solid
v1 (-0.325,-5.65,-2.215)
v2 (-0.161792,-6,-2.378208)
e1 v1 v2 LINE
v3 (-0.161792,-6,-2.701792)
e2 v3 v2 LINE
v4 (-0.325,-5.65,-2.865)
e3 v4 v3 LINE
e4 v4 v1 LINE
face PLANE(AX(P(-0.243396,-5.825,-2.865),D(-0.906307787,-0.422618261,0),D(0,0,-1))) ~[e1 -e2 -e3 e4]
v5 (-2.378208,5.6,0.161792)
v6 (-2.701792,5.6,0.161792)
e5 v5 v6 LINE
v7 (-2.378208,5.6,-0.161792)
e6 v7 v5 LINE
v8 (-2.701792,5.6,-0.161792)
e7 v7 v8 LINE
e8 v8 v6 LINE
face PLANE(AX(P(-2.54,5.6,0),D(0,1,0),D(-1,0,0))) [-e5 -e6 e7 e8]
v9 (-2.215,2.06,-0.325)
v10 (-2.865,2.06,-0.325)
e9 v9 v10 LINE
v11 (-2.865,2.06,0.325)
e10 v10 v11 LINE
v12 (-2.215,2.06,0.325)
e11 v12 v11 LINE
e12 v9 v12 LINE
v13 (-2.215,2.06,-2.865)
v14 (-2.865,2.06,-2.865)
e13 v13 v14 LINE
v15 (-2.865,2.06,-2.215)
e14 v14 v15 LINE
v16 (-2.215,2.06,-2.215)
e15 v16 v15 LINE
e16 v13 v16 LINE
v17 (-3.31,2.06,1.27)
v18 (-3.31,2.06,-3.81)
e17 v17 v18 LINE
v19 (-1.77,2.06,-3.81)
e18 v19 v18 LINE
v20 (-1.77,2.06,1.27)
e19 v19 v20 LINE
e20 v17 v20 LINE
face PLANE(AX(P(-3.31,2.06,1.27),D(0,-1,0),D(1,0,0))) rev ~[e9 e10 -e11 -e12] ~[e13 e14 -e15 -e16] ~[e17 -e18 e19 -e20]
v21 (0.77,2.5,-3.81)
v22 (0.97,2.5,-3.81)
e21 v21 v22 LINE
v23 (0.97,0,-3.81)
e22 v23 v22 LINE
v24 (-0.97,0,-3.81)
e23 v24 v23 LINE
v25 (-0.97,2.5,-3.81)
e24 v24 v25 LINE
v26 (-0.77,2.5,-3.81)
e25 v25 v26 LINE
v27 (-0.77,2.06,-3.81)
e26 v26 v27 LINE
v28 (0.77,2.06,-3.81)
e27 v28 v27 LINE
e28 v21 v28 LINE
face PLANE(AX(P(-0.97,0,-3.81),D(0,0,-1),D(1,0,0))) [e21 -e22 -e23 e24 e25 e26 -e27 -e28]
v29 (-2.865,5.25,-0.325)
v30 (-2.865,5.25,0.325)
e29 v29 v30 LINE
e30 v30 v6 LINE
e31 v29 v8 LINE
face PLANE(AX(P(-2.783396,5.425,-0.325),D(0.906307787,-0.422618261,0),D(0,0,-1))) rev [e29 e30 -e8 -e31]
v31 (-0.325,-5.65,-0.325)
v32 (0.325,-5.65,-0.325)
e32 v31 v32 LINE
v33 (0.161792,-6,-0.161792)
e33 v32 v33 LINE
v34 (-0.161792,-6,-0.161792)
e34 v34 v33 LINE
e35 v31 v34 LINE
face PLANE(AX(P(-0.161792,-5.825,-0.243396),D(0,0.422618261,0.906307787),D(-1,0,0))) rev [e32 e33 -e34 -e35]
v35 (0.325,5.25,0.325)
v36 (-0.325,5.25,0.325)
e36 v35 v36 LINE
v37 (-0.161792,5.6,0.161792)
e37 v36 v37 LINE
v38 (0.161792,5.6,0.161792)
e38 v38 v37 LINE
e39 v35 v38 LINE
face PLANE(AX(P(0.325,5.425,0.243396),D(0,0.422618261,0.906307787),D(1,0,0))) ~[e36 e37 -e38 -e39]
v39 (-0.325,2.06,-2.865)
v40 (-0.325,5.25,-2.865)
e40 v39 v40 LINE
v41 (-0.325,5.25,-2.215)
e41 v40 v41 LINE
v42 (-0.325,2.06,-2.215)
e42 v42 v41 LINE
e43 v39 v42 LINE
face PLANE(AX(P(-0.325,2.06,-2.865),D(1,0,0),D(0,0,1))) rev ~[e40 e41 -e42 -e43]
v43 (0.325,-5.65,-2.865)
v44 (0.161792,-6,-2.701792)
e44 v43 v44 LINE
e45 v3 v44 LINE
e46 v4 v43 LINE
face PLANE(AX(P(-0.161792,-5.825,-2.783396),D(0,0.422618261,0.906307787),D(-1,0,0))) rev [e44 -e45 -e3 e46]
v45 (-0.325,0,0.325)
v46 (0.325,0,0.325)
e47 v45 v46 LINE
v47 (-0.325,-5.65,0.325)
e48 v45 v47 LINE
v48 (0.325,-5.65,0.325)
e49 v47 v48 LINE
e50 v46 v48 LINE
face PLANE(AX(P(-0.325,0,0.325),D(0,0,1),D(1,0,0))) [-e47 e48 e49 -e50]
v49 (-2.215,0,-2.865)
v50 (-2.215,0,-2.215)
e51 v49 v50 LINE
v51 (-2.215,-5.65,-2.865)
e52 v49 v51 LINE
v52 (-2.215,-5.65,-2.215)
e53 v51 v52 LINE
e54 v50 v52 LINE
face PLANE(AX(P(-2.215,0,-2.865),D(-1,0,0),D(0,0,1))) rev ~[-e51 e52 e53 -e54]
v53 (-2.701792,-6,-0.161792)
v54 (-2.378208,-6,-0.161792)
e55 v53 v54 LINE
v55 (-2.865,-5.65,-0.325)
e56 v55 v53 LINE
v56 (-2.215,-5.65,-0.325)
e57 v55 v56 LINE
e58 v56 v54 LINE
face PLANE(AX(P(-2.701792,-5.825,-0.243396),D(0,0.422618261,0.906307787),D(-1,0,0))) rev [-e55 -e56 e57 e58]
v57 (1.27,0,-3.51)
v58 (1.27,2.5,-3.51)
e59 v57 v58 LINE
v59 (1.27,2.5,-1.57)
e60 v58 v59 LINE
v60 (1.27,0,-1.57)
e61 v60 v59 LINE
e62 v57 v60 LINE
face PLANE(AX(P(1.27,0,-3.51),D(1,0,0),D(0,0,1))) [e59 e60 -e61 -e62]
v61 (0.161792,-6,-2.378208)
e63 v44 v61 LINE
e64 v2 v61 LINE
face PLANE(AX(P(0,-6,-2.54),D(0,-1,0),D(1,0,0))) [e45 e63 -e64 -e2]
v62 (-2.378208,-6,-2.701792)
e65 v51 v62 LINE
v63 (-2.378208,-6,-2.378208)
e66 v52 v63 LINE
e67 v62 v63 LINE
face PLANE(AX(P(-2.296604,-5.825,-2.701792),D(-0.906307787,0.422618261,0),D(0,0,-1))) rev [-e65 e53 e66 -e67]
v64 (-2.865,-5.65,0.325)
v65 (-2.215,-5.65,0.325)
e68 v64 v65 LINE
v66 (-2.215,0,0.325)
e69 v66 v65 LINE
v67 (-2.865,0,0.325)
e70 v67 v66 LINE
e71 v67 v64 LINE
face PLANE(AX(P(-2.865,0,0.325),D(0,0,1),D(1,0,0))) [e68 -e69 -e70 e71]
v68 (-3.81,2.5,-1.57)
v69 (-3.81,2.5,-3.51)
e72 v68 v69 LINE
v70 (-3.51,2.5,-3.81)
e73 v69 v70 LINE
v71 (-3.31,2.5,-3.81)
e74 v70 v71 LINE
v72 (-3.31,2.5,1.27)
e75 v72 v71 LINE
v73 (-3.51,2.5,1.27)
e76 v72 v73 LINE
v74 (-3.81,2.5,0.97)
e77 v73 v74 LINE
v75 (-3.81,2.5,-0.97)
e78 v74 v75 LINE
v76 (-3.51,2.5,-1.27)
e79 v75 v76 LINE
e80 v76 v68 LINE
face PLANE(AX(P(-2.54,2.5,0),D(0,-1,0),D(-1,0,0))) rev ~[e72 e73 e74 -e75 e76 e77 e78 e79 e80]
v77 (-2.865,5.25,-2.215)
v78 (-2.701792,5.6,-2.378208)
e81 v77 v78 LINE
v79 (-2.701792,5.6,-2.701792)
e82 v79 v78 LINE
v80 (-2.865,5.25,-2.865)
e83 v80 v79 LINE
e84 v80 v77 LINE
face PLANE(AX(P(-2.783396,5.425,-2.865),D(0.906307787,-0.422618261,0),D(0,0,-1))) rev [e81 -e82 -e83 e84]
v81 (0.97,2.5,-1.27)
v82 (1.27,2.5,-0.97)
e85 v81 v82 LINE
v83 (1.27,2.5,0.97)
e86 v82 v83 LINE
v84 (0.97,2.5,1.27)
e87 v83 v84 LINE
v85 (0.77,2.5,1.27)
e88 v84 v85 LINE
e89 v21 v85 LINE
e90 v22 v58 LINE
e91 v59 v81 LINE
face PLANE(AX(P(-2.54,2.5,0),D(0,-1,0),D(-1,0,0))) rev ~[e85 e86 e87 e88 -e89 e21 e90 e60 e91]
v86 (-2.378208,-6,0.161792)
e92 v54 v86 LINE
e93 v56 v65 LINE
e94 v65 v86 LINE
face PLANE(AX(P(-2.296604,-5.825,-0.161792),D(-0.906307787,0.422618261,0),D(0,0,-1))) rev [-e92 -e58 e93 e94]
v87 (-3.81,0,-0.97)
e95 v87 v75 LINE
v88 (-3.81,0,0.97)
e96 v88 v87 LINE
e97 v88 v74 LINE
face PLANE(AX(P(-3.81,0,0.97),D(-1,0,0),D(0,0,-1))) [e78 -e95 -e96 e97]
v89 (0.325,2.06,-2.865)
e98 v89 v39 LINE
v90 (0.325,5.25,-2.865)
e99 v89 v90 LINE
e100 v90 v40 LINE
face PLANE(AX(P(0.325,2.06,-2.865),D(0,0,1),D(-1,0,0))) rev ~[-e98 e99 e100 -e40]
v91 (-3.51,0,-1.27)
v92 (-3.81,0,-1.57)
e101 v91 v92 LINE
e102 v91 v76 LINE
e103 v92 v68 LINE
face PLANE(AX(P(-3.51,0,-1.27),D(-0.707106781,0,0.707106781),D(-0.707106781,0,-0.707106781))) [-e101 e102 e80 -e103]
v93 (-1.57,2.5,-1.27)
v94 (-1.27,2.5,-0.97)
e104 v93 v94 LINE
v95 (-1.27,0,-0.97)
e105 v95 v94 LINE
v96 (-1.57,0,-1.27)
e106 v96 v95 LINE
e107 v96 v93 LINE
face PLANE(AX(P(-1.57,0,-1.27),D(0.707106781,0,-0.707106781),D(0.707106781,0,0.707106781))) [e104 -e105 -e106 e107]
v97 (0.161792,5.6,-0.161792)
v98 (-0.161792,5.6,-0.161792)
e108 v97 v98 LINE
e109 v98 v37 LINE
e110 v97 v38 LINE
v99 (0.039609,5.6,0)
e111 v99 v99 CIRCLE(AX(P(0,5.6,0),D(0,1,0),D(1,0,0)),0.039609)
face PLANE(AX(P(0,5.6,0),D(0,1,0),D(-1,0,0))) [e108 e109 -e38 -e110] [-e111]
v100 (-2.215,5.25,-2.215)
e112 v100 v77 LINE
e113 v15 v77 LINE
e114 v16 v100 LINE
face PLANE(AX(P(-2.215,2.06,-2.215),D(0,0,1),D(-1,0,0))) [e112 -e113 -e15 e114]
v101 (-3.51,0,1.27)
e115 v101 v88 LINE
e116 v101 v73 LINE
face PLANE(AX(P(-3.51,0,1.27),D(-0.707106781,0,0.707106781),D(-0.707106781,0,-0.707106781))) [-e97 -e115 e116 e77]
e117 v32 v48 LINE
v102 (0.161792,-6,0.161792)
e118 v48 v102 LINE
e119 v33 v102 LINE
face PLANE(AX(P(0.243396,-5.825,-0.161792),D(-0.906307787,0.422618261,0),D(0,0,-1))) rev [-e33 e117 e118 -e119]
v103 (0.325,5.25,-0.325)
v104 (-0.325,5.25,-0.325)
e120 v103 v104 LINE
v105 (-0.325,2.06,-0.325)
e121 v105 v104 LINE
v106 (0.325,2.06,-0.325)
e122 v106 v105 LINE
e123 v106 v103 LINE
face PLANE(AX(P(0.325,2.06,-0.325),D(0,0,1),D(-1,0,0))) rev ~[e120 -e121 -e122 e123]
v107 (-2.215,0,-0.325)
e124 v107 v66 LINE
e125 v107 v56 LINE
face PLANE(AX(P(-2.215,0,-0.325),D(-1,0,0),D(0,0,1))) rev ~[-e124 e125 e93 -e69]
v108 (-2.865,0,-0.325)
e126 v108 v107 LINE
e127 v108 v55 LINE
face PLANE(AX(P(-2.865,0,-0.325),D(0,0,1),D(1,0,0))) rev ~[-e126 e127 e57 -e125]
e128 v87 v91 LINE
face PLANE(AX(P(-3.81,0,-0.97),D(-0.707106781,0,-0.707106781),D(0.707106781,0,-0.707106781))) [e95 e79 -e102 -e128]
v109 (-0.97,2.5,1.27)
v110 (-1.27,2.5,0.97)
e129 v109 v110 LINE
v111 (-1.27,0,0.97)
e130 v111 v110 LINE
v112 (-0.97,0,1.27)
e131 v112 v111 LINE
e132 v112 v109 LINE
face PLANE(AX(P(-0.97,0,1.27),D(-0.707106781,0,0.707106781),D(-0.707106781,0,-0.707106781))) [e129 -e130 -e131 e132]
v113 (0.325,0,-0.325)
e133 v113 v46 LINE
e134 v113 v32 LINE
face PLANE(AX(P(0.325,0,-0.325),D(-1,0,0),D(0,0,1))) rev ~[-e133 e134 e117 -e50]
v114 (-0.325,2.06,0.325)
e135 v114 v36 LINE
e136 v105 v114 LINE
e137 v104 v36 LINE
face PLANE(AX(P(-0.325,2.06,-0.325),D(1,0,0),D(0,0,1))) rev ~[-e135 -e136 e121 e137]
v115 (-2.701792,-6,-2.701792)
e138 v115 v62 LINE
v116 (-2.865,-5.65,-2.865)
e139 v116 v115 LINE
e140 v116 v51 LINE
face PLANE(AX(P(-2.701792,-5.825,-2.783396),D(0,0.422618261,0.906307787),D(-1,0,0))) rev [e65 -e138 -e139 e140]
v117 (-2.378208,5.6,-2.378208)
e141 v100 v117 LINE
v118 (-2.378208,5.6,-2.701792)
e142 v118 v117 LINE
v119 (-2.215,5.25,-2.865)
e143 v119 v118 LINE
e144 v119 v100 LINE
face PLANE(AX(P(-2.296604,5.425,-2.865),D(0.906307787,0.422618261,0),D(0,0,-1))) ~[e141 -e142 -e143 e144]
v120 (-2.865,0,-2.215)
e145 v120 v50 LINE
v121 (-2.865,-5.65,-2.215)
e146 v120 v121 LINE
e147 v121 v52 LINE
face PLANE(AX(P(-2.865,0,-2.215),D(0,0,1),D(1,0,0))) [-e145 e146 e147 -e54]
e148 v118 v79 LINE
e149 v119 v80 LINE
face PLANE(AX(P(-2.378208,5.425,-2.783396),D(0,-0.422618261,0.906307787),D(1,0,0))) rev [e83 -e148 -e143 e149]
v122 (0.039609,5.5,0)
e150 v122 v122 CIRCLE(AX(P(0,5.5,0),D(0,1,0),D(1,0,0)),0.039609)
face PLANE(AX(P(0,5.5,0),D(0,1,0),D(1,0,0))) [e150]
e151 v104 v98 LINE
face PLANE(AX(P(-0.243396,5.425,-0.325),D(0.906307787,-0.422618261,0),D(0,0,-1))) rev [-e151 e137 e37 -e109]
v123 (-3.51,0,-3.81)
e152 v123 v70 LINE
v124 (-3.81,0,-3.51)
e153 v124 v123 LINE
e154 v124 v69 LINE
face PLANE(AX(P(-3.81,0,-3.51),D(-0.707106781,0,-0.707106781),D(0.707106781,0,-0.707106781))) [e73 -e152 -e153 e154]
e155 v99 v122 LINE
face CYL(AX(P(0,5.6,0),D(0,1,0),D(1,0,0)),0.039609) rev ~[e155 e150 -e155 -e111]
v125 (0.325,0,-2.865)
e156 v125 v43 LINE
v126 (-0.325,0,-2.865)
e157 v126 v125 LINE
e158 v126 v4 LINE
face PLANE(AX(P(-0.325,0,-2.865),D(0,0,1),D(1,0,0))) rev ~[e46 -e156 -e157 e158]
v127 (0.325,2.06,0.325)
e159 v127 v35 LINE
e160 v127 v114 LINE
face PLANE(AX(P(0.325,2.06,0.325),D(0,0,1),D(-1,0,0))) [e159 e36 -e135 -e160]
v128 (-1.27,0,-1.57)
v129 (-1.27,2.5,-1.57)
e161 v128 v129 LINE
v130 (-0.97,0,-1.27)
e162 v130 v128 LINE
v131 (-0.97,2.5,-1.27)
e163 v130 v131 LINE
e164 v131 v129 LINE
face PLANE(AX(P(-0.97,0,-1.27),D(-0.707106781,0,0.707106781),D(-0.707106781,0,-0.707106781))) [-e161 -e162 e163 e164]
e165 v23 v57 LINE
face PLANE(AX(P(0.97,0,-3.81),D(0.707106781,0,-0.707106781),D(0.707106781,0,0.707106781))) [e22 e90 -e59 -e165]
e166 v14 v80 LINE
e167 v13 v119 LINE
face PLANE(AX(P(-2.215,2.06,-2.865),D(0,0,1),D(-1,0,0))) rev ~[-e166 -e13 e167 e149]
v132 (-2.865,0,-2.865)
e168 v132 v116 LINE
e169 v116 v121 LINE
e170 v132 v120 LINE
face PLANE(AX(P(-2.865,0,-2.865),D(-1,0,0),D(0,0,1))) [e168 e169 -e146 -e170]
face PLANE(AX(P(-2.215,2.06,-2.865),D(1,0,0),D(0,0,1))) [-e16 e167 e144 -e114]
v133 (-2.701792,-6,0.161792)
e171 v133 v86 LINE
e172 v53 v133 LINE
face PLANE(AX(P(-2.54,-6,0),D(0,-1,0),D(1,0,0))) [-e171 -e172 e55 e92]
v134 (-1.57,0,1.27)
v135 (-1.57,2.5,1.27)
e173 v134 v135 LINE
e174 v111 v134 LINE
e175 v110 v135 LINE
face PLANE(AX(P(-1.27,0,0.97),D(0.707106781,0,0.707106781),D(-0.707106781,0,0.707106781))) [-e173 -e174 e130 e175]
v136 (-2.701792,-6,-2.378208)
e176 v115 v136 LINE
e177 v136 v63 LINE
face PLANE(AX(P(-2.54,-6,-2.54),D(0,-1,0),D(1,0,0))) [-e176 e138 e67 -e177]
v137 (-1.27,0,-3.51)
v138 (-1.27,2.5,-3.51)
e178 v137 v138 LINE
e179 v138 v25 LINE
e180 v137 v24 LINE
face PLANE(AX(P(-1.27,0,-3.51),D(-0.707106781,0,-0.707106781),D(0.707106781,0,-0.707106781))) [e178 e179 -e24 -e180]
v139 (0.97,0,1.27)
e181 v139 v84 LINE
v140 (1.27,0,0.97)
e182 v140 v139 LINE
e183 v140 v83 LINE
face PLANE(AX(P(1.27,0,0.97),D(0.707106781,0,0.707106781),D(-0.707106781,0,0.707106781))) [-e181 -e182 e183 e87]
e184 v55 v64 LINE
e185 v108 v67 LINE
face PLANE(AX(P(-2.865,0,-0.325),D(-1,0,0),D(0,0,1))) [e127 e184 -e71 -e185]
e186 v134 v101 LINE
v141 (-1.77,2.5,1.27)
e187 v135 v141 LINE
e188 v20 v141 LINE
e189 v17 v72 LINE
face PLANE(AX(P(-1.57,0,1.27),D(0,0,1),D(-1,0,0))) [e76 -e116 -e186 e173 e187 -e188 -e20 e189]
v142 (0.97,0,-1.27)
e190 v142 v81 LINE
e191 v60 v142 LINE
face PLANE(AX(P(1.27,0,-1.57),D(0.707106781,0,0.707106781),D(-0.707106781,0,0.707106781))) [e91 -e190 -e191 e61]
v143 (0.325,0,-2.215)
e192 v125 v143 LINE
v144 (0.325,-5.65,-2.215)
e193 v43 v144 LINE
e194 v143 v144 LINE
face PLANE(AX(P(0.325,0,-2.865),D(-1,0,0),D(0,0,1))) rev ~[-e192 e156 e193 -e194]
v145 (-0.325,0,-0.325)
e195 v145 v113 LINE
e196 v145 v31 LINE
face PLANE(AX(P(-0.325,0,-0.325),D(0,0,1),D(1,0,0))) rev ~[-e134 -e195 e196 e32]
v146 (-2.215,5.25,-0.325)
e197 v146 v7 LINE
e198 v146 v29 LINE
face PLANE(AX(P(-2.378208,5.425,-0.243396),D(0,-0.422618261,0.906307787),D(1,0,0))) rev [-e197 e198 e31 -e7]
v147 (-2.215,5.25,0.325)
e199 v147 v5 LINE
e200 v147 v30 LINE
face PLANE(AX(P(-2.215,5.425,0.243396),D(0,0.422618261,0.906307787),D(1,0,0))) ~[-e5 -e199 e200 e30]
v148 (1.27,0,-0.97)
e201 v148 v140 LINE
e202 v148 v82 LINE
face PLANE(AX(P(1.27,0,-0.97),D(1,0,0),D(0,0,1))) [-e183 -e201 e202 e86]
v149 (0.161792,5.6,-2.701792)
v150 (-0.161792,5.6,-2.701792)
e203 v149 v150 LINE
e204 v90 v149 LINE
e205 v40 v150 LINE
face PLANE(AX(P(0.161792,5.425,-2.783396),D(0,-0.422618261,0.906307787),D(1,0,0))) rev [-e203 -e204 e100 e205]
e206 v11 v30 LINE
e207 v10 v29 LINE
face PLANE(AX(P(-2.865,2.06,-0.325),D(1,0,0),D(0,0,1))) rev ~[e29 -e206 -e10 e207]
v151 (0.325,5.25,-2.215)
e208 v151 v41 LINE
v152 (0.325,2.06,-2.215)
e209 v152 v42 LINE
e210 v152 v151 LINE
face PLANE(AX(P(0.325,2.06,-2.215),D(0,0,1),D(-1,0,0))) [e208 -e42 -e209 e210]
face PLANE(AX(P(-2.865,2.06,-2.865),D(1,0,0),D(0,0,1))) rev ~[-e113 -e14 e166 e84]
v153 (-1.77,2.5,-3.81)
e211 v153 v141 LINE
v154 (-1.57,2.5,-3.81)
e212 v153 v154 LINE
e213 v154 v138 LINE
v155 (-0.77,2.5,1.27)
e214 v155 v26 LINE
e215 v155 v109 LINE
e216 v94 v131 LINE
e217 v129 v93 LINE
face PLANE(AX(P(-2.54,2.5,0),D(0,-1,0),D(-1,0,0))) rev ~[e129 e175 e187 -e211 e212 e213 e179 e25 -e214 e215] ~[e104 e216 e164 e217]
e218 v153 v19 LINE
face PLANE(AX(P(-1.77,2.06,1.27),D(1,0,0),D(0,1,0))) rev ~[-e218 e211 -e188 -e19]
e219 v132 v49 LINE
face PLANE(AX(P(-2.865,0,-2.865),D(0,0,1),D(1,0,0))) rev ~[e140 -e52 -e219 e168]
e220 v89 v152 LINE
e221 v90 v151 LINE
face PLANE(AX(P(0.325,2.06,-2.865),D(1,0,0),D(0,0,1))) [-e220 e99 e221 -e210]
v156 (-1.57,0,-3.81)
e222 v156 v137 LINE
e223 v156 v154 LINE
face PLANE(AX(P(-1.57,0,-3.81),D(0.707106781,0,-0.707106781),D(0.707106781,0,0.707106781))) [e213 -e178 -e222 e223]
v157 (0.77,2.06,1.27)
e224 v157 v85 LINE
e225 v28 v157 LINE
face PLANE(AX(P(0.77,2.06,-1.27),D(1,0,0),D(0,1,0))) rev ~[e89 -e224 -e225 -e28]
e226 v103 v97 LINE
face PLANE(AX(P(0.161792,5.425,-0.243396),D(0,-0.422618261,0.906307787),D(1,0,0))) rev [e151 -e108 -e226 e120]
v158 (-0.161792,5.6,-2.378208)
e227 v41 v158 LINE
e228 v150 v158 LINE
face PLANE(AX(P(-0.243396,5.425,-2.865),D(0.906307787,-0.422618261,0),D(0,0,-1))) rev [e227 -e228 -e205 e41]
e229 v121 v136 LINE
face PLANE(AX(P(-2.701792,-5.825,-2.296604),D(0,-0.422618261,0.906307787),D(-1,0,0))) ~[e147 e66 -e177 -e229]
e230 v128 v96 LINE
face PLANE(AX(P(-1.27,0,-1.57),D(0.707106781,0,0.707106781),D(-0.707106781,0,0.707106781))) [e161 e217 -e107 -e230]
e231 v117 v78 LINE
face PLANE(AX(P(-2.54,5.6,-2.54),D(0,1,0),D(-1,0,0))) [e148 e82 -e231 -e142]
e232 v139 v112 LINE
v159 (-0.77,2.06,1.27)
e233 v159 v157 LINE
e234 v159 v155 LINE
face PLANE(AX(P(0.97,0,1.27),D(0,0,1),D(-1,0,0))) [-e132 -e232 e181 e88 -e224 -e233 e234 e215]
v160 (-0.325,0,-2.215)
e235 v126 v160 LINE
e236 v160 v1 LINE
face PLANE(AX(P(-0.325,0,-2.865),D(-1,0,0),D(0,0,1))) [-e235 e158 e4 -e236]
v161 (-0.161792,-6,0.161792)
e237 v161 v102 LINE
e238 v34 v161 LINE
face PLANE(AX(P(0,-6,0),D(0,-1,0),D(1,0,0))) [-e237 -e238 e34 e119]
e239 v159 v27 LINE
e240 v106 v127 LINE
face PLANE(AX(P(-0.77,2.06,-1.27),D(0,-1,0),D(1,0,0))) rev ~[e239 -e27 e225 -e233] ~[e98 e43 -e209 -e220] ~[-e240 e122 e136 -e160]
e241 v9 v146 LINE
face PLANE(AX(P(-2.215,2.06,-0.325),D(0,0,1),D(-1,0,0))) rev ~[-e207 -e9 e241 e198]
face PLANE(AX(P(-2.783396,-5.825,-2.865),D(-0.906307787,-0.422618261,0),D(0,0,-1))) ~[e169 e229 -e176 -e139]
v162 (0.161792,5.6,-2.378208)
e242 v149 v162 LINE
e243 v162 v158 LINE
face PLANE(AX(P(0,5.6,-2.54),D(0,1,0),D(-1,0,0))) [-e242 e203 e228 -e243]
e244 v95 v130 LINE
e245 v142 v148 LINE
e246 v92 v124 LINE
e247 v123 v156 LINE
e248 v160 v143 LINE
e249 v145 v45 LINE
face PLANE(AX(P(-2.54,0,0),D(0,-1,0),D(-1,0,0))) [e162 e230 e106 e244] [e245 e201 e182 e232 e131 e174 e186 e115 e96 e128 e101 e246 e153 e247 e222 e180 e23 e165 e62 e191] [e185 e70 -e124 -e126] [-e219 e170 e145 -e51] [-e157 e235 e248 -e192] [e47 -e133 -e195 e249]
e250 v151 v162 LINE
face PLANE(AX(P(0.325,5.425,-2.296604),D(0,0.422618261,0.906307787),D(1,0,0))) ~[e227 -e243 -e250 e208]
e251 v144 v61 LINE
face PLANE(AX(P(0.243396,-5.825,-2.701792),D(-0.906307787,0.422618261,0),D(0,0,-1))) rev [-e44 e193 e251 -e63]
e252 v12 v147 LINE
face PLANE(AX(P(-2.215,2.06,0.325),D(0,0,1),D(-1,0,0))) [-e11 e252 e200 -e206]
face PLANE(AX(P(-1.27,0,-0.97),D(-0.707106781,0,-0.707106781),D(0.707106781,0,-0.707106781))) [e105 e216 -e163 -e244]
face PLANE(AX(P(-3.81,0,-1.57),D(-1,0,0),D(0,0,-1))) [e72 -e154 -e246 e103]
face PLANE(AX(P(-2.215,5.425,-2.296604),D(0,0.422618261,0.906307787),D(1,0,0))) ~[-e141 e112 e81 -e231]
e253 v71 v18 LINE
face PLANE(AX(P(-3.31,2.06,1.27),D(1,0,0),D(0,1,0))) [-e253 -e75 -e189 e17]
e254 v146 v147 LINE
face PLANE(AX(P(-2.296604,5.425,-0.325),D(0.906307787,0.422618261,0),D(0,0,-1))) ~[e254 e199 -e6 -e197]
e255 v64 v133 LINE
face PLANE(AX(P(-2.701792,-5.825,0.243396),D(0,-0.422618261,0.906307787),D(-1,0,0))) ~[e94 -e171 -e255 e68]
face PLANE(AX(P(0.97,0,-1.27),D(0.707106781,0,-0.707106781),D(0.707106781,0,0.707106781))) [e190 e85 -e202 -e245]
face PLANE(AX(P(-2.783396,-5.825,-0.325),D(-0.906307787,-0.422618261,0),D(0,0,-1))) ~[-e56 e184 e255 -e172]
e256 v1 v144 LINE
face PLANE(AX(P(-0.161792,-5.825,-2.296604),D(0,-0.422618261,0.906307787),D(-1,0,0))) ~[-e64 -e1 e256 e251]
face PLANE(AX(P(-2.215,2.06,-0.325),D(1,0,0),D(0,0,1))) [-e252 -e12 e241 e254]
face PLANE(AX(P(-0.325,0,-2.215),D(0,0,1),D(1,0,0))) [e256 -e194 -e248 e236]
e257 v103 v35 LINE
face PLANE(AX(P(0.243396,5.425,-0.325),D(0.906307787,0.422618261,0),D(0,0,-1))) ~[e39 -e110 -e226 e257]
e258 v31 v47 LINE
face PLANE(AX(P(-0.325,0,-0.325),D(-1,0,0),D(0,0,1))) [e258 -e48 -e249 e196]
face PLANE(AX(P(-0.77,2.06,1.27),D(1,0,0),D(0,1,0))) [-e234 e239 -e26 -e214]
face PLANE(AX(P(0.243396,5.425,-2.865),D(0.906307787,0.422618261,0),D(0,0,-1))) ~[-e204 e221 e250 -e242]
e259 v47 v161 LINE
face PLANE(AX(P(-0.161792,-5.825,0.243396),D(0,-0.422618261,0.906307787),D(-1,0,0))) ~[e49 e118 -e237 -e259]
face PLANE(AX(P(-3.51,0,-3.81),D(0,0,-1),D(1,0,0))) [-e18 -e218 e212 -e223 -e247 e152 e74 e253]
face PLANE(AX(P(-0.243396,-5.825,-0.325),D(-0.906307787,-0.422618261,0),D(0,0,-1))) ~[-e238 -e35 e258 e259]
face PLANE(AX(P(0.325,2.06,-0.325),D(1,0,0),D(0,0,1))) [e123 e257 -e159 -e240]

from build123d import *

# Parameters (mm, degrees)
EXTRUDE1_DEPTH                     = 2.5
SKETCH2_W                          = 1.54
SKETCH2_H                          = 0.508742985
CUT_EXTRUDE1_DEPTH                 = 12.5
SKETCH3_W                          = 0.65
SKETCH3_H                          = 0.65
EXTRUDE2_DEPTH                     = 3.54
CHAMFER1_SIZE                      = 0.35
CHAMFER1_SIZE2                     = 0.16320768
CHAMFER1_PART_2_SIZE               = 0.35
CHAMFER1_PART_2_SIZE2              = 0.16320768
CHAMFER1_PART_3_SIZE               = 0.35
CHAMFER1_PART_3_SIZE2              = 0.16320768
CHAMFER1_PART_4_SIZE               = 0.35
CHAMFER1_PART_4_SIZE2              = 0.16320768
SKETCH4_W                          = 0.65
SKETCH4_H                          = 0.65
EXTRUDE3_DEPTH                     = 6
CHAMFER2_SIZE                      = 0.35
CHAMFER2_SIZE2                     = 0.16320768
CHAMFER2_PART_2_SIZE               = 0.35
CHAMFER2_PART_2_SIZE2              = 0.16320768
CHAMFER2_PART_3_SIZE               = 0.35
CHAMFER2_PART_3_SIZE2              = 0.16320768
CHAMFER2_PART_4_SIZE               = 0.35
CHAMFER2_PART_4_SIZE2              = 0.16320768
LPATTERN3_COUNT                    = 2
LPATTERN3_PITCH                    = 2.54
LPATTERN3_COUNT_DIR2               = 2
LPATTERN3_PITCH_DIR2               = 2.54
LPATTERN4_COUNT                    = 2
LPATTERN4_PITCH                    = 2.54
LPATTERN4_COUNT_DIR2               = 2
LPATTERN4_PITCH_DIR2               = 2.54
CHAMFER1_OF_LPATTERN4_SIZE2        = 0.16320768
CHAMFER1_OF_LPATTERN4_SIZE         = 0.35
CHAMFER1_PART_2_OF_LPATTERN4_SIZE2 = 0.16320768
CHAMFER1_PART_2_OF_LPATTERN4_SIZE  = 0.35
CHAMFER1_PART_3_OF_LPATTERN4_SIZE2 = 0.16320768
CHAMFER1_PART_3_OF_LPATTERN4_SIZE  = 0.35
CHAMFER1_PART_4_OF_LPATTERN4_SIZE2 = 0.16320768
CHAMFER1_PART_4_OF_LPATTERN4_SIZE  = 0.35
CHAMFER2_OF_LPATTERN4_SIZE2        = 0.16320768
CHAMFER2_OF_LPATTERN4_SIZE         = 0.35
CHAMFER2_PART_2_OF_LPATTERN4_SIZE2 = 0.16320768
CHAMFER2_PART_2_OF_LPATTERN4_SIZE  = 0.35
CHAMFER2_PART_3_OF_LPATTERN4_SIZE2 = 0.16320768
CHAMFER2_PART_3_OF_LPATTERN4_SIZE  = 0.35
CHAMFER2_PART_4_OF_LPATTERN4_SIZE2 = 0.16320768
CHAMFER2_PART_4_OF_LPATTERN4_SIZE  = 0.35
ESBO_O1_R                          = 0.039608668
CORTE_EXTRUS_O1_DEPTH              = 0.1


with BuildPart() as part:
    # Sketch1 → Extrude1 (new body)
    with BuildSketch(Plane(origin=(0, 0, 0), x_dir=(1, 0, 0), z_dir=(0, 1, 0))):
        Polygon((-0.97, 1.27), (0.97, 1.27), (1.27, 0.97), (1.27, -0.97), (0.97, -1.27), (-0.97, -1.27), (-1.27, -0.97), (-1.27, 0.97), align=None)
    extrude1 = extrude(amount=EXTRUDE1_DEPTH)

    # Sketch2 → Cut-Extrude1 (cut)
    with BuildSketch(Plane.XY.offset(1.27)):
        with Locations((0, 2.314371493)):
            Rectangle(SKETCH2_W, SKETCH2_H)
    cut_extrude1 = extrude(amount=-CUT_EXTRUDE1_DEPTH, mode=Mode.SUBTRACT)

    # Sketch3 → Extrude2 (add)
    with BuildSketch(Plane(origin=(0, 2.06, 0), x_dir=(-1, 0, 0), z_dir=(0, 1, 0))):
        Rectangle(SKETCH3_W, SKETCH3_H)
    extrude2 = extrude(amount=EXTRUDE2_DEPTH)

    # Chamfer1
    chamfer1_edges = [part.edges().sort_by_distance(p)[0] for p in [
        (-0.325, 5.6, 0),
    ]]
    chamfer1_side = [part.faces().sort_by_distance(p)[0] for p in [
        (-0.325, 3.83, 0),
    ]]
    chamfer(chamfer1_edges, length=CHAMFER1_SIZE, length2=CHAMFER1_SIZE2, reference=chamfer1_side[0])

    # Chamfer1 part 2
    chamfer1_part_2_edges = [part.edges().sort_by_distance(p)[0] for p in [
        (0, 5.6, 0.325),
    ]]
    chamfer1_part_2_side = [part.faces().sort_by_distance(p)[0] for p in [
        (0, 3.83, 0.325),
    ]]
    chamfer(chamfer1_part_2_edges, length=CHAMFER1_PART_2_SIZE, length2=CHAMFER1_PART_2_SIZE2, reference=chamfer1_part_2_side[0])

    # Chamfer1 part 3
    chamfer1_part_3_edges = [part.edges().sort_by_distance(p)[0] for p in [
        (0.325, 5.6, 0),
    ]]
    chamfer1_part_3_side = [part.faces().sort_by_distance(p)[0] for p in [
        (0.325, 3.83, 0),
    ]]
    chamfer(chamfer1_part_3_edges, length=CHAMFER1_PART_3_SIZE, length2=CHAMFER1_PART_3_SIZE2, reference=chamfer1_part_3_side[0])

    # Chamfer1 part 4
    chamfer1_part_4_edges = [part.edges().sort_by_distance(p)[0] for p in [
        (0, 5.6, -0.325),
    ]]
    chamfer1_part_4_side = [part.faces().sort_by_distance(p)[0] for p in [
        (0, 3.83, -0.325),
    ]]
    chamfer(chamfer1_part_4_edges, length=CHAMFER1_PART_4_SIZE, length2=CHAMFER1_PART_4_SIZE2, reference=chamfer1_part_4_side[0])

    # Sketch4 → Extrude3 (add)
    with BuildSketch(Plane.XZ):
        Rectangle(SKETCH4_W, SKETCH4_H)
    extrude3 = extrude(amount=EXTRUDE3_DEPTH)

    # Chamfer2
    chamfer2_edges = [part.edges().sort_by_distance(p)[0] for p in [
        (-0.325, -6, 0),
    ]]
    chamfer2_side = [part.faces().sort_by_distance(p)[0] for p in [
        (-0.325, -3, 0),
    ]]
    chamfer(chamfer2_edges, length=CHAMFER2_SIZE, length2=CHAMFER2_SIZE2, reference=chamfer2_side[0])

    # Chamfer2 part 2
    chamfer2_part_2_edges = [part.edges().sort_by_distance(p)[0] for p in [
        (0, -6, -0.325),
    ]]
    chamfer2_part_2_side = [part.faces().sort_by_distance(p)[0] for p in [
        (0, -3, -0.325),
    ]]
    chamfer(chamfer2_part_2_edges, length=CHAMFER2_PART_2_SIZE, length2=CHAMFER2_PART_2_SIZE2, reference=chamfer2_part_2_side[0])

    # Chamfer2 part 3
    chamfer2_part_3_edges = [part.edges().sort_by_distance(p)[0] for p in [
        (0.325, -6, 0),
    ]]
    chamfer2_part_3_side = [part.faces().sort_by_distance(p)[0] for p in [
        (0.325, -3, 0),
    ]]
    chamfer(chamfer2_part_3_edges, length=CHAMFER2_PART_3_SIZE, length2=CHAMFER2_PART_3_SIZE2, reference=chamfer2_part_3_side[0])

    # Chamfer2 part 4
    chamfer2_part_4_edges = [part.edges().sort_by_distance(p)[0] for p in [
        (0, -6, 0.325),
    ]]
    chamfer2_part_4_side = [part.faces().sort_by_distance(p)[0] for p in [
        (0, -3, 0.325),
    ]]
    chamfer(chamfer2_part_4_edges, length=CHAMFER2_PART_4_SIZE, length2=CHAMFER2_PART_4_SIZE2, reference=chamfer2_part_4_side[0])

    # LPattern3: Extrude1, Cut-Extrude1 2 × 2
    with Locations(*[(-j * LPATTERN3_PITCH_DIR2, 0, -i * LPATTERN3_PITCH) for i in range(LPATTERN3_COUNT) for j in range(LPATTERN3_COUNT_DIR2) if (i, j) != (0, 0)]):
        add(extrude1)
        add(cut_extrude1, mode=Mode.SUBTRACT)

    # LPattern4: Extrude2, Extrude3 2 × 2
    with Locations(*[(-j * LPATTERN4_PITCH_DIR2, 0, -i * LPATTERN4_PITCH) for i in range(LPATTERN4_COUNT) for j in range(LPATTERN4_COUNT_DIR2) if (i, j) != (0, 0)]):
        add(extrude2)
        add(extrude3)

    # Chamfer1 of LPattern4
    chamfer1_of_lpattern4_edges = [part.edges().sort_by_distance(p)[0] for p in [
        (-2.865, 5.6, 0),
        (-0.325, 5.6, -2.54),
        (-2.865, 5.6, -2.54),
    ]]
    chamfer(chamfer1_of_lpattern4_edges, length=CHAMFER1_OF_LPATTERN4_SIZE, length2=CHAMFER1_OF_LPATTERN4_SIZE2)

    # Chamfer1 part 2 of LPattern4
    chamfer1_part_2_of_lpattern4_edges = [part.edges().sort_by_distance(p)[0] for p in [
        (-2.54, 5.6, 0.325),
        (0, 5.6, -2.215),
        (-2.54, 5.6, -2.215),
    ]]
    chamfer(chamfer1_part_2_of_lpattern4_edges, length=CHAMFER1_PART_2_OF_LPATTERN4_SIZE, length2=CHAMFER1_PART_2_OF_LPATTERN4_SIZE2)

    # Chamfer1 part 3 of LPattern4
    chamfer1_part_3_of_lpattern4_edges = [part.edges().sort_by_distance(p)[0] for p in [
        (-2.215, 5.6, 0),
        (0.325, 5.6, -2.54),
        (-2.215, 5.6, -2.54),
    ]]
    chamfer(chamfer1_part_3_of_lpattern4_edges, length=CHAMFER1_PART_3_OF_LPATTERN4_SIZE, length2=CHAMFER1_PART_3_OF_LPATTERN4_SIZE2)

    # Chamfer1 part 4 of LPattern4
    chamfer1_part_4_of_lpattern4_edges = [part.edges().sort_by_distance(p)[0] for p in [
        (-2.54, 5.6, -0.325),
        (0, 5.6, -2.865),
        (-2.54, 5.6, -2.865),
    ]]
    chamfer(chamfer1_part_4_of_lpattern4_edges, length=CHAMFER1_PART_4_OF_LPATTERN4_SIZE, length2=CHAMFER1_PART_4_OF_LPATTERN4_SIZE2)

    # Chamfer2 of LPattern4
    chamfer2_of_lpattern4_edges = [part.edges().sort_by_distance(p)[0] for p in [
        (-2.865, -6, 0),
        (-0.325, -6, -2.54),
        (-2.865, -6, -2.54),
    ]]
    chamfer(chamfer2_of_lpattern4_edges, length=CHAMFER2_OF_LPATTERN4_SIZE, length2=CHAMFER2_OF_LPATTERN4_SIZE2)

    # Chamfer2 part 2 of LPattern4
    chamfer2_part_2_of_lpattern4_edges = [part.edges().sort_by_distance(p)[0] for p in [
        (-2.54, -6, -0.325),
        (0, -6, -2.865),
        (-2.54, -6, -2.865),
    ]]
    chamfer(chamfer2_part_2_of_lpattern4_edges, length=CHAMFER2_PART_2_OF_LPATTERN4_SIZE, length2=CHAMFER2_PART_2_OF_LPATTERN4_SIZE2)

    # Chamfer2 part 3 of LPattern4
    chamfer2_part_3_of_lpattern4_edges = [part.edges().sort_by_distance(p)[0] for p in [
        (-2.215, -6, 0),
        (0.325, -6, -2.54),
        (-2.215, -6, -2.54),
    ]]
    chamfer(chamfer2_part_3_of_lpattern4_edges, length=CHAMFER2_PART_3_OF_LPATTERN4_SIZE, length2=CHAMFER2_PART_3_OF_LPATTERN4_SIZE2)

    # Chamfer2 part 4 of LPattern4
    chamfer2_part_4_of_lpattern4_edges = [part.edges().sort_by_distance(p)[0] for p in [
        (-2.54, -6, 0.325),
        (0, -6, -2.215),
        (-2.54, -6, -2.215),
    ]]
    chamfer(chamfer2_part_4_of_lpattern4_edges, length=CHAMFER2_PART_4_OF_LPATTERN4_SIZE, length2=CHAMFER2_PART_4_OF_LPATTERN4_SIZE2)

    # Esboço1 → Corte-extrusão1 (cut)
    with BuildSketch(Plane(origin=(0, 5.6, 0), x_dir=(1, 0, 0), z_dir=(0, 1, 0))):
        Circle(ESBO_O1_R)
    extrude(amount=-CORTE_EXTRUS_O1_DEPTH, mode=Mode.SUBTRACT)


solid = part.part
